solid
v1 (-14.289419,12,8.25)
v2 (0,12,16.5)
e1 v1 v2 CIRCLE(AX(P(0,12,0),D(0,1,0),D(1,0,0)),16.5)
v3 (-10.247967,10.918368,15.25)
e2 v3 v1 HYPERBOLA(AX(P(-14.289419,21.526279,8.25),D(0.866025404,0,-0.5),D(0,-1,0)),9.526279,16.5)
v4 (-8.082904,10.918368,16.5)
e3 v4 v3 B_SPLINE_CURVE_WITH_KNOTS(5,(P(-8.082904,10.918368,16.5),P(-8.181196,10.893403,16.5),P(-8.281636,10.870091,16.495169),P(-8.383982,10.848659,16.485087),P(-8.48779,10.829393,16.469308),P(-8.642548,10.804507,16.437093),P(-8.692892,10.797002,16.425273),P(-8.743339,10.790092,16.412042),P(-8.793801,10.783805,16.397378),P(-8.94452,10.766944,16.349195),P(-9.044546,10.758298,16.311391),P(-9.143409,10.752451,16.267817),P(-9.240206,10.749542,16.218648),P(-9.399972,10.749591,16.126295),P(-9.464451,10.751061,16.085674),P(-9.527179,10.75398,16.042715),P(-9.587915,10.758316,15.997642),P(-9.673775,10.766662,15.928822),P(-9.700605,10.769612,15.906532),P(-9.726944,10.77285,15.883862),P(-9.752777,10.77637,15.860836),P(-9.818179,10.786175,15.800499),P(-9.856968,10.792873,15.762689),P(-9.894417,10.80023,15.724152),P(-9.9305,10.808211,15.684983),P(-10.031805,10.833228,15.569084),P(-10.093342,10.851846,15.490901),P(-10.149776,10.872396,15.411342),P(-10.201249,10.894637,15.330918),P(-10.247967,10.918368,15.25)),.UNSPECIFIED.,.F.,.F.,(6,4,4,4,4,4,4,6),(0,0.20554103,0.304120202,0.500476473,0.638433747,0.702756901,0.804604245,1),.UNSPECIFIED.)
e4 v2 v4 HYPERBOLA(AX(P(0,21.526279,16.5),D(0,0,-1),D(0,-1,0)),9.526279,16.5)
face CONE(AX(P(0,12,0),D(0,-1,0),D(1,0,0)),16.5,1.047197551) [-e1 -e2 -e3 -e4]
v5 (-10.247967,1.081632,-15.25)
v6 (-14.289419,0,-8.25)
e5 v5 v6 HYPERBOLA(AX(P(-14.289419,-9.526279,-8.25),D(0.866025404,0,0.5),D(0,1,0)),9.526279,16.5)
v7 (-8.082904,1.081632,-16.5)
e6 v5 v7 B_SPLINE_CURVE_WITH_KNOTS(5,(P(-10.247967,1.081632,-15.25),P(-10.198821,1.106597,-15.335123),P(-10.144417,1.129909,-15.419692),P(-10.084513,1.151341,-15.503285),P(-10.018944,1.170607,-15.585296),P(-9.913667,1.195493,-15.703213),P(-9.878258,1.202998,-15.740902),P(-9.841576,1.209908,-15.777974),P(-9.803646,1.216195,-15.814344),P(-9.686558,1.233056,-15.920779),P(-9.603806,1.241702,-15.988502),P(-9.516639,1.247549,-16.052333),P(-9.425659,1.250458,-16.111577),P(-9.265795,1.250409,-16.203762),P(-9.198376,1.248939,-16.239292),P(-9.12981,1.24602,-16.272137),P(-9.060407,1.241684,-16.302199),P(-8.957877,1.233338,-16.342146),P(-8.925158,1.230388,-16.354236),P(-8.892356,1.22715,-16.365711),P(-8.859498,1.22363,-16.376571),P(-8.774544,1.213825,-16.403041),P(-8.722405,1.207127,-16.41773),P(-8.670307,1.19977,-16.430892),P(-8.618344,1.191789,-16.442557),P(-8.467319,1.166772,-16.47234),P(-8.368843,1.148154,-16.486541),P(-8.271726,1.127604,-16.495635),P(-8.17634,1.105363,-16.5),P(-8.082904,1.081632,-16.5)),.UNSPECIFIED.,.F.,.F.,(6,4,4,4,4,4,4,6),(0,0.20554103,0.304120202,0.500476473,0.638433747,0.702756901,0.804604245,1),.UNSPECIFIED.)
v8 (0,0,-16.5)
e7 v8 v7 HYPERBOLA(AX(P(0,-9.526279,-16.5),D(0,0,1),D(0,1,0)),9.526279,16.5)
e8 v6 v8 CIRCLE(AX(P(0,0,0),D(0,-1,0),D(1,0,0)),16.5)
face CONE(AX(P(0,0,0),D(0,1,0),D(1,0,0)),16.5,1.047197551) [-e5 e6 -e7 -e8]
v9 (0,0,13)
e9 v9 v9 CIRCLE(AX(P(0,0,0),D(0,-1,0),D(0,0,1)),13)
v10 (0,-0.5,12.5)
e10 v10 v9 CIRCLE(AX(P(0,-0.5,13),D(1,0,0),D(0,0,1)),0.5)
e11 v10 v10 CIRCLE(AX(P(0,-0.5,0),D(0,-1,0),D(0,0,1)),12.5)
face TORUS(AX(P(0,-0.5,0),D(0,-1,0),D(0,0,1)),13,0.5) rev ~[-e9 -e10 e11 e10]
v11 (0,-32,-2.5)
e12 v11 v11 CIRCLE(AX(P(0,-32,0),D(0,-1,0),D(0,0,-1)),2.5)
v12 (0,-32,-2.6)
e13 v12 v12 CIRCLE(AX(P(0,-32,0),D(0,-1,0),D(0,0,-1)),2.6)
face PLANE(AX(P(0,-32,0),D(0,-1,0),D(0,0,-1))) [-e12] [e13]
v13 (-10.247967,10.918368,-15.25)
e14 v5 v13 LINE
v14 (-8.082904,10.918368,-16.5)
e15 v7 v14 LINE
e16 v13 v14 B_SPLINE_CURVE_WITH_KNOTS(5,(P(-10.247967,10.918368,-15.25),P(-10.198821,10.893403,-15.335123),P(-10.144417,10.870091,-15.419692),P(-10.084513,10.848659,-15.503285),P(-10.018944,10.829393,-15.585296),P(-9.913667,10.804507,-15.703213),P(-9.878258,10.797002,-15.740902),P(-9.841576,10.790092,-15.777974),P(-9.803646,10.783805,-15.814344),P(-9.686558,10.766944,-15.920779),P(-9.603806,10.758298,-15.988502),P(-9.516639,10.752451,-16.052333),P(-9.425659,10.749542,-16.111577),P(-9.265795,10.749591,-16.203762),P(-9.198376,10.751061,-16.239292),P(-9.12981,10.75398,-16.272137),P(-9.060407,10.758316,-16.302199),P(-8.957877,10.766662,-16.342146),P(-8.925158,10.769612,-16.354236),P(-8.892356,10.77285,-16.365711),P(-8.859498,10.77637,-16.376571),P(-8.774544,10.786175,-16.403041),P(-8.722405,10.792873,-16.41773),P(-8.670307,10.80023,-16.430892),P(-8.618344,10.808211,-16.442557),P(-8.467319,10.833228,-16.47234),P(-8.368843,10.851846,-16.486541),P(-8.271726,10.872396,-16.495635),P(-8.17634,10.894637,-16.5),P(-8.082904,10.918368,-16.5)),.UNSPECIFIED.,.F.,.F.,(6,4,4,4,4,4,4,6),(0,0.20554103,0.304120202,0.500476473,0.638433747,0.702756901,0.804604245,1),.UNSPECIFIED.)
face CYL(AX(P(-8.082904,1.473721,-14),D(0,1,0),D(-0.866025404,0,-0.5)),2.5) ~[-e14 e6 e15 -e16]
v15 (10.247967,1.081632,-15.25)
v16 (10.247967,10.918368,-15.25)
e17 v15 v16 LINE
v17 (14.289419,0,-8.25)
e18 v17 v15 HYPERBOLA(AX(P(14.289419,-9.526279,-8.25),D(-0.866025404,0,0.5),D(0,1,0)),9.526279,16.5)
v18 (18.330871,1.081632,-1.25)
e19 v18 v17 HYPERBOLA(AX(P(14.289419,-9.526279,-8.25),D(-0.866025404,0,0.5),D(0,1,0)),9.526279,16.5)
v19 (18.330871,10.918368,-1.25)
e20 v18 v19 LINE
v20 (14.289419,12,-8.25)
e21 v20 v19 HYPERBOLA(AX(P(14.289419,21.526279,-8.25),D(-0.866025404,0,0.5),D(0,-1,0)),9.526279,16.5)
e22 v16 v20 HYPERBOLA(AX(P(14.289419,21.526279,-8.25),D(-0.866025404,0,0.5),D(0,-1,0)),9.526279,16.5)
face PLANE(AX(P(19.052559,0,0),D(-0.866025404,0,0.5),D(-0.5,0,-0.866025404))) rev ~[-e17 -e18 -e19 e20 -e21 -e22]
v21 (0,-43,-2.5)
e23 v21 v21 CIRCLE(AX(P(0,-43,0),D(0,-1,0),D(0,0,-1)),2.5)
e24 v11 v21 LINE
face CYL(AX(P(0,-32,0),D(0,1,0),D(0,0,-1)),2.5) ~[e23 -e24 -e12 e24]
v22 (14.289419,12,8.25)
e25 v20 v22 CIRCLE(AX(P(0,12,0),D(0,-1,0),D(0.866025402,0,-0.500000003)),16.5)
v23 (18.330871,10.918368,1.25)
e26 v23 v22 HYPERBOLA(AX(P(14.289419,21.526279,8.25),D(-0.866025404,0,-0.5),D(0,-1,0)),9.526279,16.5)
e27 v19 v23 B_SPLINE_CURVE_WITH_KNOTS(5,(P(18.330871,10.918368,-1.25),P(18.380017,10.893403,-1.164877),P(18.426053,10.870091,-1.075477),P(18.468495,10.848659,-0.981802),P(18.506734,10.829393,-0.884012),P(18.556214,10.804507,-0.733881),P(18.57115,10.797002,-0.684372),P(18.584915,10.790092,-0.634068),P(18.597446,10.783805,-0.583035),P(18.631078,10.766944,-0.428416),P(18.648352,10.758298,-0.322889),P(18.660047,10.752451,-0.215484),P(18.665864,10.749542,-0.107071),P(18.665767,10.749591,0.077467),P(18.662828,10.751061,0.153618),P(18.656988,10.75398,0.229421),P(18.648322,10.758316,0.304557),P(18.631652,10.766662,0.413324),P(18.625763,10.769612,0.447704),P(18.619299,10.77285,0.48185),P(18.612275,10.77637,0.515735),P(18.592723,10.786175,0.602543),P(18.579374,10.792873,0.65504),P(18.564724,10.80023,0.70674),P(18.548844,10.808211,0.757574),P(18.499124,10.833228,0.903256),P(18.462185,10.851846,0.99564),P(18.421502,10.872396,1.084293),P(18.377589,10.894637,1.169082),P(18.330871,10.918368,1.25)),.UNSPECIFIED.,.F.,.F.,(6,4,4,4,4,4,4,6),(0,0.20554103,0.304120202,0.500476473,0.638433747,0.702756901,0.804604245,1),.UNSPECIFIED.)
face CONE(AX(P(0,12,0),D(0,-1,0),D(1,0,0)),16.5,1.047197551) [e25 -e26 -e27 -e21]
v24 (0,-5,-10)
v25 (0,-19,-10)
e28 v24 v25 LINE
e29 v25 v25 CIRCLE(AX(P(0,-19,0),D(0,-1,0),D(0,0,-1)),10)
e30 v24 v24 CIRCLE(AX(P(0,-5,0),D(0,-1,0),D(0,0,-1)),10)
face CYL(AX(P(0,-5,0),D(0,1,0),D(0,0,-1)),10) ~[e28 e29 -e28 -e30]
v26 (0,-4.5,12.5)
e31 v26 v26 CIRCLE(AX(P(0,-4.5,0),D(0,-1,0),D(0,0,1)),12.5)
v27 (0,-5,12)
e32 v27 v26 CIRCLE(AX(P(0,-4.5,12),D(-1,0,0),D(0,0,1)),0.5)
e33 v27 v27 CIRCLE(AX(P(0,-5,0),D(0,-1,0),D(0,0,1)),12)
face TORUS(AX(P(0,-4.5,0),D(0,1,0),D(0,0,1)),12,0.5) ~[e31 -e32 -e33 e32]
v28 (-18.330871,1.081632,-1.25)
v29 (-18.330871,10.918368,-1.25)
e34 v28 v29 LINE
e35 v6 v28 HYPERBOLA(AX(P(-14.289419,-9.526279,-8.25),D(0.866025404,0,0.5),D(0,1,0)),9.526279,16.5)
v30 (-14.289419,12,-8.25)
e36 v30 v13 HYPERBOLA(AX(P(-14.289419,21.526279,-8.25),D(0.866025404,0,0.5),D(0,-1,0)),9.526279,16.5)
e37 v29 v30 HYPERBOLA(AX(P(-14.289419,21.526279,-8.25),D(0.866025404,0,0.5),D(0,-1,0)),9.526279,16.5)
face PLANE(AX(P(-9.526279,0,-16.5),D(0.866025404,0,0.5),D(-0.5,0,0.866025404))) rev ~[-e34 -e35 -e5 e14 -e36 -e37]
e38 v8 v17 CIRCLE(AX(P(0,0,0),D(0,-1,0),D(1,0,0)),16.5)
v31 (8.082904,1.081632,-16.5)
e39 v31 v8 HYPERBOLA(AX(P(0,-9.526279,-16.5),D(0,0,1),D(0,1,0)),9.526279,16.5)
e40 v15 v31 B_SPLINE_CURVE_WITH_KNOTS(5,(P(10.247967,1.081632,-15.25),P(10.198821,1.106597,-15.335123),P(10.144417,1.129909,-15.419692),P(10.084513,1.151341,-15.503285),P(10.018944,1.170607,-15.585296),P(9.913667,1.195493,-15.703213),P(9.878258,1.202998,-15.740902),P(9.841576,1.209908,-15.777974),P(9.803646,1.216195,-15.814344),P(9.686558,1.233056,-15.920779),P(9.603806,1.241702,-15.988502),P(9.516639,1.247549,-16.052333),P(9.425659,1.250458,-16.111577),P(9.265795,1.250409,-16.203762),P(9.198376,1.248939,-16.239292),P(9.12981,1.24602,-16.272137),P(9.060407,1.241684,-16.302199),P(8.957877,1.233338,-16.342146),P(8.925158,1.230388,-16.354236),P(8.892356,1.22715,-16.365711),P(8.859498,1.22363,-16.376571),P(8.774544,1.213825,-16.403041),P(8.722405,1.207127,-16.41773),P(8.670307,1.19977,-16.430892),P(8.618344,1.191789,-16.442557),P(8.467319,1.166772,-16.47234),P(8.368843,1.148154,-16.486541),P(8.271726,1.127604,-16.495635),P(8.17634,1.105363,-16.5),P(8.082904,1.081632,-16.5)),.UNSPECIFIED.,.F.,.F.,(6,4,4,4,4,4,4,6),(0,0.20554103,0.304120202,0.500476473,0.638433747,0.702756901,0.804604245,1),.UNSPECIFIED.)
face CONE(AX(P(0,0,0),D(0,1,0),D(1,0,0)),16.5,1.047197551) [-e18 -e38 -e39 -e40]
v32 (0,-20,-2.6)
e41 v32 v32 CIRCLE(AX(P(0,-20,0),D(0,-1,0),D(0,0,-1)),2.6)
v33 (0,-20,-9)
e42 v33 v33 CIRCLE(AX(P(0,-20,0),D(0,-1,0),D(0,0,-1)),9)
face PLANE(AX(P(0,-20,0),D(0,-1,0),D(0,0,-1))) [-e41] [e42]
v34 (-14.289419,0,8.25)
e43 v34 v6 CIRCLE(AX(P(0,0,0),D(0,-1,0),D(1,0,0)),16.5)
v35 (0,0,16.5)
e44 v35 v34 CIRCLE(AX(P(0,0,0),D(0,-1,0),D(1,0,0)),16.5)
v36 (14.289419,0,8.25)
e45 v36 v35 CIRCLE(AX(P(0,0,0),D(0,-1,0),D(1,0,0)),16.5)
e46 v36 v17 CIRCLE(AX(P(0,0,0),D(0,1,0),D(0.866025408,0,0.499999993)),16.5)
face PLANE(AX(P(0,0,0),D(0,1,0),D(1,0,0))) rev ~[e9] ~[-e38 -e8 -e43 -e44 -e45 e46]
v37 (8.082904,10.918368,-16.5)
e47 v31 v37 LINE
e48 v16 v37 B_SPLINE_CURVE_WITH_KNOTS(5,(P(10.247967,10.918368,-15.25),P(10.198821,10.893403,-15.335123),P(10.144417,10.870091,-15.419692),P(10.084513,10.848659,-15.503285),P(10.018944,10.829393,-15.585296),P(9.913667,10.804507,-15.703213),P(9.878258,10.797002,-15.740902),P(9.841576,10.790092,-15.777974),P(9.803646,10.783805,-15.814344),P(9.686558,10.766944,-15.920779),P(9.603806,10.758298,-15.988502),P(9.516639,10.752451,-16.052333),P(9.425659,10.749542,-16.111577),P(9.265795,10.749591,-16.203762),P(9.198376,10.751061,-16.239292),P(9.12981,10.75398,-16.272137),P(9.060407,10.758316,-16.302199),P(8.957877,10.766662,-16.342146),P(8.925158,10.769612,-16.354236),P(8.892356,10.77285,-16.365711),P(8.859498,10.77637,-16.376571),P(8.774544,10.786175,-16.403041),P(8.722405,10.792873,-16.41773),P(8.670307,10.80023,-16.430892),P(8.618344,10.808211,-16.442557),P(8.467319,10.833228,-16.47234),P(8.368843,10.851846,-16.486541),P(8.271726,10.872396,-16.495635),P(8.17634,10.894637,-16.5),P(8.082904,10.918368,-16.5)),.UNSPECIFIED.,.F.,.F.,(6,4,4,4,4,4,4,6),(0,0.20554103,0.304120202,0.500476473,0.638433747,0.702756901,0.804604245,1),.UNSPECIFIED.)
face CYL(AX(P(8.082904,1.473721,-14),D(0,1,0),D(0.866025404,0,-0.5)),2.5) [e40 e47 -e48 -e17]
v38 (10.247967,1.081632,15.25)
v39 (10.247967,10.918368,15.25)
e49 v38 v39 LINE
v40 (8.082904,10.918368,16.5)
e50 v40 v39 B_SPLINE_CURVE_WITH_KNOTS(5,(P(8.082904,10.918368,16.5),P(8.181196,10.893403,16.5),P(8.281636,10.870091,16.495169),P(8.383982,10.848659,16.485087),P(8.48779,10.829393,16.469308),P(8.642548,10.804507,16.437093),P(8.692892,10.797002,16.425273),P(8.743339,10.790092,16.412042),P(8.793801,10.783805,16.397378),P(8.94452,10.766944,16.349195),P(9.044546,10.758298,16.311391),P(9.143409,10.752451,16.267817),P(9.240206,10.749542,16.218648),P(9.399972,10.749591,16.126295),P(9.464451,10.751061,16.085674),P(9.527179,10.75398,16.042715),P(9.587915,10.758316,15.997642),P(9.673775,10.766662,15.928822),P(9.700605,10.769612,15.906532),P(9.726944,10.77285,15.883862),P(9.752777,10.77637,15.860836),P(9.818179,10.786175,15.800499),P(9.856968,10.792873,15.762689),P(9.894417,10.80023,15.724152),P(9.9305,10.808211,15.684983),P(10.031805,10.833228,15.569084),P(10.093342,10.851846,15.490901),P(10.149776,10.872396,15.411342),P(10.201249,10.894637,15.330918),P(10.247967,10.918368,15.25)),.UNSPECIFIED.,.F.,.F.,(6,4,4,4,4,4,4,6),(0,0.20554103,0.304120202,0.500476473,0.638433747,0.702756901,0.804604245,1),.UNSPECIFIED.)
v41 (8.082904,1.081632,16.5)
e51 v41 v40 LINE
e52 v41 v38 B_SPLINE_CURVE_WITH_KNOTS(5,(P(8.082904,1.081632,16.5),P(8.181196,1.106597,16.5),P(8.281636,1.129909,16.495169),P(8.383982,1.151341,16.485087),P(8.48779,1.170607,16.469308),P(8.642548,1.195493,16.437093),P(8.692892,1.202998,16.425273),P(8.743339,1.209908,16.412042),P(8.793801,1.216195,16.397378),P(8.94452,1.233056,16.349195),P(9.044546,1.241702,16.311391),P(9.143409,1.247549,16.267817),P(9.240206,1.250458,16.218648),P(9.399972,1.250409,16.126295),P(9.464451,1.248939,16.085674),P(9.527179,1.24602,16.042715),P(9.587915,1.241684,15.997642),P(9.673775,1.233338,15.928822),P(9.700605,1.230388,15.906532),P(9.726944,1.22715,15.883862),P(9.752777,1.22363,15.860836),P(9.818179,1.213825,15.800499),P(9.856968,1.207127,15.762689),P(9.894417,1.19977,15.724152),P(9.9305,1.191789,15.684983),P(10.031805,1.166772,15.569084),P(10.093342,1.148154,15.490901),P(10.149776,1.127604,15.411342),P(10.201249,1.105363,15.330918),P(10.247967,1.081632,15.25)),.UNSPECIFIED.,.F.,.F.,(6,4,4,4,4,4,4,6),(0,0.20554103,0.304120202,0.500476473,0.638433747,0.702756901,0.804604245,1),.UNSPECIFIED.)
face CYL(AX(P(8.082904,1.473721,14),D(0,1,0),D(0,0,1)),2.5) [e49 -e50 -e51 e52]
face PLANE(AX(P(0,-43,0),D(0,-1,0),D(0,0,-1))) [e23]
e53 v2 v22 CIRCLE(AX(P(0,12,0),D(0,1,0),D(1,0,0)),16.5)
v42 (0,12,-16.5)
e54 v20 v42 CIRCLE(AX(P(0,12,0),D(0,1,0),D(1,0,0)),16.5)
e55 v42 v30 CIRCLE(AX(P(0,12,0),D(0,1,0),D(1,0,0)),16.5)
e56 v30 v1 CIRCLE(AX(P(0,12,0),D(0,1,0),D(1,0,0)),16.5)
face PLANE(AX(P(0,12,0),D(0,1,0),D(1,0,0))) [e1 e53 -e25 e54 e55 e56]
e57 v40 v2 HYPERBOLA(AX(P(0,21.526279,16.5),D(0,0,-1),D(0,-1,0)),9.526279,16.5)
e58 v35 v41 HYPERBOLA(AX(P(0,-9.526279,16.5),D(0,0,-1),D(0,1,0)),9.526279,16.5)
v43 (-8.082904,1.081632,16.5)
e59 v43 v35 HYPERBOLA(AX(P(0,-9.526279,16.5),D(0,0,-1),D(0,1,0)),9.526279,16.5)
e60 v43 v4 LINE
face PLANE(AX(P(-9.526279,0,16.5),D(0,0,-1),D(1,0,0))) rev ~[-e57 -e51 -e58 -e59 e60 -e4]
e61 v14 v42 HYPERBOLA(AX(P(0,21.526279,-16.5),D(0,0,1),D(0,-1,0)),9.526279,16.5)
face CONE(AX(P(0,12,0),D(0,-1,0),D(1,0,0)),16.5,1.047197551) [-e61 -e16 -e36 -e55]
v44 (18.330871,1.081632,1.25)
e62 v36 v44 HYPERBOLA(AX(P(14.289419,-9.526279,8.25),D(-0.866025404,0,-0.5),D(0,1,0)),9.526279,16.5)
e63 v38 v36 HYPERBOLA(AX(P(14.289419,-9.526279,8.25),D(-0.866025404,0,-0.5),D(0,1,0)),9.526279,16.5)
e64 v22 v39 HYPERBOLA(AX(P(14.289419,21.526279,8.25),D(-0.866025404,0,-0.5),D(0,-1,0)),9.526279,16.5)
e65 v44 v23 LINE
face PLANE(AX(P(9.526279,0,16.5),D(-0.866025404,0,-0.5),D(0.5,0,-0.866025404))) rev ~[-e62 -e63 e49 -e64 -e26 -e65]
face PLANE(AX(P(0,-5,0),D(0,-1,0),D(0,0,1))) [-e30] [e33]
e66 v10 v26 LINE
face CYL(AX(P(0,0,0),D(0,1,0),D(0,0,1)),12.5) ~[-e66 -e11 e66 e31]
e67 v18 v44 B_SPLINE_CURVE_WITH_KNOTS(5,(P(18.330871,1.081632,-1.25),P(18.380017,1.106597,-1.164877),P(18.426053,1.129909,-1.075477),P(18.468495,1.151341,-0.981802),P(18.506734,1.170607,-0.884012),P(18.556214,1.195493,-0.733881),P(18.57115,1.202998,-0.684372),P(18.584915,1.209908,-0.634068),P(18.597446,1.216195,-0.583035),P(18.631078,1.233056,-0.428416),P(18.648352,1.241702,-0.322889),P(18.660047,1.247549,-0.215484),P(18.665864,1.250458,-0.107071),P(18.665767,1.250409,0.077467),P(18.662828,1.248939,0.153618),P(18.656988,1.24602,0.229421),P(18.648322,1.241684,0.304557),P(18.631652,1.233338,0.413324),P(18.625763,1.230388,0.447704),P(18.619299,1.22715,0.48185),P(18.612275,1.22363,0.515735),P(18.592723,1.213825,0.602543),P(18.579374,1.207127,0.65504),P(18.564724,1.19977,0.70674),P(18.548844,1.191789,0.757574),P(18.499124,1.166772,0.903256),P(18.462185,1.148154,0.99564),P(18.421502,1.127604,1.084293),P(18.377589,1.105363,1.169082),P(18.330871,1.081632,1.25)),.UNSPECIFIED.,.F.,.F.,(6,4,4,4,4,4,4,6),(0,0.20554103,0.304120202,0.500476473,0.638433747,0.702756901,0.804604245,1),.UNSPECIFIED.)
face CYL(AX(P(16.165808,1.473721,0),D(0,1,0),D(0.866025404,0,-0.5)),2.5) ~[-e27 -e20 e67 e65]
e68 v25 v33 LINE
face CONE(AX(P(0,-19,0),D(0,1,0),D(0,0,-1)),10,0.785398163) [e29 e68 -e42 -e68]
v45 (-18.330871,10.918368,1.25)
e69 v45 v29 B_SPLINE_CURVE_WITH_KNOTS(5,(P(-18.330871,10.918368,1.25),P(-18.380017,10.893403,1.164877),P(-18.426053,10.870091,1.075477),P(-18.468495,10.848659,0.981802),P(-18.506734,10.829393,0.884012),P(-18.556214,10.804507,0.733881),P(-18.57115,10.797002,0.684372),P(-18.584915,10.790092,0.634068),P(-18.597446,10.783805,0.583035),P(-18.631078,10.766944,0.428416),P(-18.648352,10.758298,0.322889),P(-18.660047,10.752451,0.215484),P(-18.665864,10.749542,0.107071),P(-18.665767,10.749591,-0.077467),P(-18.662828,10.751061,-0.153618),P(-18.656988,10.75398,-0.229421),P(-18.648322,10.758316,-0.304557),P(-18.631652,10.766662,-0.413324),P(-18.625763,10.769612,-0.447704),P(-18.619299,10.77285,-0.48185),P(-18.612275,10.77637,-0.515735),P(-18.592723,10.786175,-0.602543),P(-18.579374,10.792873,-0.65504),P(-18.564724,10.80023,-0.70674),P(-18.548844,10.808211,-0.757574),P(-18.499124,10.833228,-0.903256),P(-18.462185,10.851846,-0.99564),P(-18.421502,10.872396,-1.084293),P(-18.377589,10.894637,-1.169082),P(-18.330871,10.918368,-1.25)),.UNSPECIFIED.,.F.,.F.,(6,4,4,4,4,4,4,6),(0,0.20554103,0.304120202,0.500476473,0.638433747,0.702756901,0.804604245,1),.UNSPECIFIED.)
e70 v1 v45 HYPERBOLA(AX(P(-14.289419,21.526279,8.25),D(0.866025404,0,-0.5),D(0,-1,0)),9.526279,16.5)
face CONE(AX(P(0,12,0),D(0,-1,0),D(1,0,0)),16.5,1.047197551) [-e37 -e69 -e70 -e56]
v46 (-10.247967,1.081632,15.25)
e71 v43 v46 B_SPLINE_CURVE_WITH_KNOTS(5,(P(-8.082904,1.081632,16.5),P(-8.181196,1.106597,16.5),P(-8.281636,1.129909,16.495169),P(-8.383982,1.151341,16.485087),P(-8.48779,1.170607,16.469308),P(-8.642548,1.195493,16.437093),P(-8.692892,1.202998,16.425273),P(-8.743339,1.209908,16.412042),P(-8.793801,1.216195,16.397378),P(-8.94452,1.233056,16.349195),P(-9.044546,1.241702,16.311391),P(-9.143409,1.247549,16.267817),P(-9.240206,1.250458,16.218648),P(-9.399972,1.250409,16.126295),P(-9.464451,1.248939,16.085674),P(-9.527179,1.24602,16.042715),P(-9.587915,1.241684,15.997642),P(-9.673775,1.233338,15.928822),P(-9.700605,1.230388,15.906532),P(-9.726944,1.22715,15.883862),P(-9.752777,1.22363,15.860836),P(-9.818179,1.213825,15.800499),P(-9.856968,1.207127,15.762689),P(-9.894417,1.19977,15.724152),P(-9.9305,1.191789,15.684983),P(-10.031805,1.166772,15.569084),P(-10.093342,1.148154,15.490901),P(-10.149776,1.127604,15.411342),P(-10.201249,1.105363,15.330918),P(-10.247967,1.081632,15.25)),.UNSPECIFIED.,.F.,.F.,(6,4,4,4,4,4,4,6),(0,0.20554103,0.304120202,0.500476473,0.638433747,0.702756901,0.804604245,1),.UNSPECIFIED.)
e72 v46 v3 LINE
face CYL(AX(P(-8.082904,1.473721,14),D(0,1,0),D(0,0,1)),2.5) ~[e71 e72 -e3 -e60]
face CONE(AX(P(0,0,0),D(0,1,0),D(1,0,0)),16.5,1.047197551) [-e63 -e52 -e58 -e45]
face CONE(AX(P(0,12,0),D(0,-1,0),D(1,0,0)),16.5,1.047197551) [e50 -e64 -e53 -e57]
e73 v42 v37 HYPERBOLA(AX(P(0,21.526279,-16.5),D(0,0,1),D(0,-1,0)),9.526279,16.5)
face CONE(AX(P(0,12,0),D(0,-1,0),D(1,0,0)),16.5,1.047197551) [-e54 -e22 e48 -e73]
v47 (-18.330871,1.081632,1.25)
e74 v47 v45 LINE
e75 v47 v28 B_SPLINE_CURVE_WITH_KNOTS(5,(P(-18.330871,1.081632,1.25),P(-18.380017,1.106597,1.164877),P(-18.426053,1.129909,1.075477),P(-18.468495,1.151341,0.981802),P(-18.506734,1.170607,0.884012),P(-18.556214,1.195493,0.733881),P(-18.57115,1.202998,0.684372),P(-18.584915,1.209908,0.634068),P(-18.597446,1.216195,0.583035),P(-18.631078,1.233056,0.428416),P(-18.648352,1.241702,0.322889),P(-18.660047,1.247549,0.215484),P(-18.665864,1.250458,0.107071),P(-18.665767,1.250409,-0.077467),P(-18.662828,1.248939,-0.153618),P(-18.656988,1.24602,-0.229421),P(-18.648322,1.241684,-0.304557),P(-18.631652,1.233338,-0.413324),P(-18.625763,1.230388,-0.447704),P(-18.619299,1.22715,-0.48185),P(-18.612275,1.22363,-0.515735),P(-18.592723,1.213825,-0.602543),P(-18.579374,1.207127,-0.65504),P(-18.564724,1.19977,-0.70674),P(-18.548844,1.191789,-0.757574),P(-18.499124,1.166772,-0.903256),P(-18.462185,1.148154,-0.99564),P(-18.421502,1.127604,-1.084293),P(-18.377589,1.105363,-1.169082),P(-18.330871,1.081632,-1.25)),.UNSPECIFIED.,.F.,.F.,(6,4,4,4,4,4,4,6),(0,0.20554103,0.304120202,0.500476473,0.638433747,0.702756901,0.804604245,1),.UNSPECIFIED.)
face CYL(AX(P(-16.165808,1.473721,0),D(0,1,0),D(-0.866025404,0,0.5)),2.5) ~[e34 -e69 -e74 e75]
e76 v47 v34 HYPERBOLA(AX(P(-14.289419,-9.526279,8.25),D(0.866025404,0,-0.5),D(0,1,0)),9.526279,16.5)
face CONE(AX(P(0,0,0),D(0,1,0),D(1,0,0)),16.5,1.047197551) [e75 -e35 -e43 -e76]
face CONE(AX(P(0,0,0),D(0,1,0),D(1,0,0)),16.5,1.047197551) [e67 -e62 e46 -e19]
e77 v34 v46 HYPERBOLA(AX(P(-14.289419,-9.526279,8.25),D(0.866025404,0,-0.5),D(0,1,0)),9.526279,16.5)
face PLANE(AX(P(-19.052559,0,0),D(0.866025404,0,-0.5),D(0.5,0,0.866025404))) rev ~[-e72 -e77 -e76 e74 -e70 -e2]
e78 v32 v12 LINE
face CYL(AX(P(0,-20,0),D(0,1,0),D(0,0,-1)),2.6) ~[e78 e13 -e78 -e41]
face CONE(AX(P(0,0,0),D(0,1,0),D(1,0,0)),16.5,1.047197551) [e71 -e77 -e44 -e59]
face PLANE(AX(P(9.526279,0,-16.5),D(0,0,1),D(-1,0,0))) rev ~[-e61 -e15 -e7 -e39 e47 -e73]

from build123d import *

# Parameters (mm, degrees)
BOSS_EXTRUDE2_DEPTH  = 12
SKETCH4_OUTSIDE_W    = 92.038
SKETCH4_OUTSIDE_H    = 86.932
SKETCH4_OUTSIDE_R    = 16.5
CUT_EXTRUDE6_DEPTH   = 12
CUT_EXTRUDE6_DRAFT   = -60
SKETCH5_OUTSIDE_W    = 92.038
SKETCH5_OUTSIDE_H    = 86.932
SKETCH5_OUTSIDE_R    = 16.5
CUT_EXTRUDE7_DEPTH   = 12
CUT_EXTRUDE7_DRAFT   = -60
FILLET1_R            = 2.5
SKETCH9_R            = 12.5
BOSS_EXTRUDE6_DEPTH  = 5
SKETCH11_R           = 10
BOSS_EXTRUDE8_DEPTH  = 15
CHAMFER1_SIZE        = 1
FILLET2_R            = 0.5
SKETCH12_R           = 2.6
BOSS_EXTRUDE9_DEPTH  = 12
SKETCH13_R           = 2.5
BOSS_EXTRUDE10_DEPTH = 11


with BuildPart() as part:
    # Sketch3 → Boss-Extrude2 (new body)
    with BuildSketch(Plane(origin=(0, 0, 0), x_dir=(1, 0, 0), z_dir=(0, 1, 0))):
        Polygon((19.052558883, 0), (9.526279442, 16.5), (-9.526279442, 16.5), (-19.052558883, 0), (-9.526279442, -16.5), (9.526279442, -16.5), align=None)
    extrude(amount=BOSS_EXTRUDE2_DEPTH)


with BuildPart() as cut_extrude6_tool:
    # Sketch4 outside → Cut-Extrude6 (with draft: the straight prism first)
    with BuildSketch(Plane(origin=(0, 12, 0), x_dir=(1, 0, 0), z_dir=(0, 1, 0))):
        Rectangle(SKETCH4_OUTSIDE_W, SKETCH4_OUTSIDE_H)
        Circle(SKETCH4_OUTSIDE_R, mode=Mode.SUBTRACT)
    extrude(amount=-CUT_EXTRUDE6_DEPTH)
    # Cut-Extrude6: the draft: its side faces are tilted about the plane it starts from
    cut_extrude6_sides = [cut_extrude6_tool.faces().sort_by_distance(p)[0] for p in [
        (0, 6, 43.466),
        (46.019, 6, 0),
        (0, 6, -43.466),
        (-46.019, 6, 0),
        (-16.5, 6, 0),
    ]]
    draft(cut_extrude6_sides, Plane(origin=(0, 12, 0), x_dir=(1, 0, 0), z_dir=(0, 1, 0)), CUT_EXTRUDE6_DRAFT)


with BuildPart() as part_1:
    add(part.part)

    # Cut-Extrude6: cut by cut_extrude6_tool
    add(cut_extrude6_tool.part, mode=Mode.SUBTRACT)


with BuildPart() as cut_extrude7_tool:
    # Sketch5 outside → Cut-Extrude7 (with draft: the straight prism first)
    with BuildSketch(Plane.XZ):
        Rectangle(SKETCH5_OUTSIDE_W, SKETCH5_OUTSIDE_H)
        Circle(SKETCH5_OUTSIDE_R, mode=Mode.SUBTRACT)
    extrude(amount=-CUT_EXTRUDE7_DEPTH)
    # Cut-Extrude7: the draft: its side faces are tilted about the plane it starts from
    cut_extrude7_sides = [cut_extrude7_tool.faces().sort_by_distance(p)[0] for p in [
        (0, 6, -43.466),
        (46.019, 6, 0),
        (0, 6, 43.466),
        (-46.019, 6, 0),
        (-16.5, 6, 0),
    ]]
    draft(cut_extrude7_sides, Plane.XZ, CUT_EXTRUDE7_DRAFT)


with BuildPart() as part_2:
    add(part_1.part)

    # Cut-Extrude7: cut by cut_extrude7_tool
    add(cut_extrude7_tool.part, mode=Mode.SUBTRACT)

    # Fillet1
    fillet1_edges = [part_2.edges().sort_by_distance(p)[0] for p in [
        (-19.052558883, 6, 0),
        (-9.526279442, 6, -16.5),
        (9.526279442, 6, -16.5),
        (19.052558883, 6, 0),
        (-9.526279442, 6, 16.5),
        (9.526279442, 6, 16.5),
    ]]
    fillet(fillet1_edges, radius=FILLET1_R)

    # Sketch9 → Boss-Extrude6 (add)
    with BuildSketch(Plane.XZ):
        with Locations(Location((0, 0, 0), (0, 0, 90))):
            Circle(SKETCH9_R)
    extrude(amount=BOSS_EXTRUDE6_DEPTH)

    # Sketch11 → Boss-Extrude8 (add)
    with BuildSketch(Plane.XZ.offset(5)):
        with Locations(Location((0, 0, 0), (0, 0, 270))):
            Circle(SKETCH11_R)
    extrude(amount=BOSS_EXTRUDE8_DEPTH)

    # Chamfer1
    chamfer1_edges = [part_2.edges().sort_by_distance(p)[0] for p in [
        (0, -20, 10),
    ]]
    chamfer(chamfer1_edges, length=CHAMFER1_SIZE)

    # Fillet2
    fillet2_edges = [part_2.edges().sort_by_distance(p)[0] for p in [
        (0, 0, -12.5),
        (0, -5, -12.5),
    ]]
    fillet(fillet2_edges, radius=FILLET2_R)

    # Sketch12 → Boss-Extrude9 (add)
    with BuildSketch(Plane.XZ.offset(20)):
        with Locations(Location((0, 0, 0), (0, 0, 270))):
            Circle(SKETCH12_R)
    extrude(amount=BOSS_EXTRUDE9_DEPTH)

    # Sketch13 → Boss-Extrude10 (add)
    with BuildSketch(Plane.XZ.offset(32)):
        with Locations(Location((0, 0, 0), (0, 0, 270))):
            Circle(SKETCH13_R)
    extrude(amount=BOSS_EXTRUDE10_DEPTH)


solid = part_2.part
